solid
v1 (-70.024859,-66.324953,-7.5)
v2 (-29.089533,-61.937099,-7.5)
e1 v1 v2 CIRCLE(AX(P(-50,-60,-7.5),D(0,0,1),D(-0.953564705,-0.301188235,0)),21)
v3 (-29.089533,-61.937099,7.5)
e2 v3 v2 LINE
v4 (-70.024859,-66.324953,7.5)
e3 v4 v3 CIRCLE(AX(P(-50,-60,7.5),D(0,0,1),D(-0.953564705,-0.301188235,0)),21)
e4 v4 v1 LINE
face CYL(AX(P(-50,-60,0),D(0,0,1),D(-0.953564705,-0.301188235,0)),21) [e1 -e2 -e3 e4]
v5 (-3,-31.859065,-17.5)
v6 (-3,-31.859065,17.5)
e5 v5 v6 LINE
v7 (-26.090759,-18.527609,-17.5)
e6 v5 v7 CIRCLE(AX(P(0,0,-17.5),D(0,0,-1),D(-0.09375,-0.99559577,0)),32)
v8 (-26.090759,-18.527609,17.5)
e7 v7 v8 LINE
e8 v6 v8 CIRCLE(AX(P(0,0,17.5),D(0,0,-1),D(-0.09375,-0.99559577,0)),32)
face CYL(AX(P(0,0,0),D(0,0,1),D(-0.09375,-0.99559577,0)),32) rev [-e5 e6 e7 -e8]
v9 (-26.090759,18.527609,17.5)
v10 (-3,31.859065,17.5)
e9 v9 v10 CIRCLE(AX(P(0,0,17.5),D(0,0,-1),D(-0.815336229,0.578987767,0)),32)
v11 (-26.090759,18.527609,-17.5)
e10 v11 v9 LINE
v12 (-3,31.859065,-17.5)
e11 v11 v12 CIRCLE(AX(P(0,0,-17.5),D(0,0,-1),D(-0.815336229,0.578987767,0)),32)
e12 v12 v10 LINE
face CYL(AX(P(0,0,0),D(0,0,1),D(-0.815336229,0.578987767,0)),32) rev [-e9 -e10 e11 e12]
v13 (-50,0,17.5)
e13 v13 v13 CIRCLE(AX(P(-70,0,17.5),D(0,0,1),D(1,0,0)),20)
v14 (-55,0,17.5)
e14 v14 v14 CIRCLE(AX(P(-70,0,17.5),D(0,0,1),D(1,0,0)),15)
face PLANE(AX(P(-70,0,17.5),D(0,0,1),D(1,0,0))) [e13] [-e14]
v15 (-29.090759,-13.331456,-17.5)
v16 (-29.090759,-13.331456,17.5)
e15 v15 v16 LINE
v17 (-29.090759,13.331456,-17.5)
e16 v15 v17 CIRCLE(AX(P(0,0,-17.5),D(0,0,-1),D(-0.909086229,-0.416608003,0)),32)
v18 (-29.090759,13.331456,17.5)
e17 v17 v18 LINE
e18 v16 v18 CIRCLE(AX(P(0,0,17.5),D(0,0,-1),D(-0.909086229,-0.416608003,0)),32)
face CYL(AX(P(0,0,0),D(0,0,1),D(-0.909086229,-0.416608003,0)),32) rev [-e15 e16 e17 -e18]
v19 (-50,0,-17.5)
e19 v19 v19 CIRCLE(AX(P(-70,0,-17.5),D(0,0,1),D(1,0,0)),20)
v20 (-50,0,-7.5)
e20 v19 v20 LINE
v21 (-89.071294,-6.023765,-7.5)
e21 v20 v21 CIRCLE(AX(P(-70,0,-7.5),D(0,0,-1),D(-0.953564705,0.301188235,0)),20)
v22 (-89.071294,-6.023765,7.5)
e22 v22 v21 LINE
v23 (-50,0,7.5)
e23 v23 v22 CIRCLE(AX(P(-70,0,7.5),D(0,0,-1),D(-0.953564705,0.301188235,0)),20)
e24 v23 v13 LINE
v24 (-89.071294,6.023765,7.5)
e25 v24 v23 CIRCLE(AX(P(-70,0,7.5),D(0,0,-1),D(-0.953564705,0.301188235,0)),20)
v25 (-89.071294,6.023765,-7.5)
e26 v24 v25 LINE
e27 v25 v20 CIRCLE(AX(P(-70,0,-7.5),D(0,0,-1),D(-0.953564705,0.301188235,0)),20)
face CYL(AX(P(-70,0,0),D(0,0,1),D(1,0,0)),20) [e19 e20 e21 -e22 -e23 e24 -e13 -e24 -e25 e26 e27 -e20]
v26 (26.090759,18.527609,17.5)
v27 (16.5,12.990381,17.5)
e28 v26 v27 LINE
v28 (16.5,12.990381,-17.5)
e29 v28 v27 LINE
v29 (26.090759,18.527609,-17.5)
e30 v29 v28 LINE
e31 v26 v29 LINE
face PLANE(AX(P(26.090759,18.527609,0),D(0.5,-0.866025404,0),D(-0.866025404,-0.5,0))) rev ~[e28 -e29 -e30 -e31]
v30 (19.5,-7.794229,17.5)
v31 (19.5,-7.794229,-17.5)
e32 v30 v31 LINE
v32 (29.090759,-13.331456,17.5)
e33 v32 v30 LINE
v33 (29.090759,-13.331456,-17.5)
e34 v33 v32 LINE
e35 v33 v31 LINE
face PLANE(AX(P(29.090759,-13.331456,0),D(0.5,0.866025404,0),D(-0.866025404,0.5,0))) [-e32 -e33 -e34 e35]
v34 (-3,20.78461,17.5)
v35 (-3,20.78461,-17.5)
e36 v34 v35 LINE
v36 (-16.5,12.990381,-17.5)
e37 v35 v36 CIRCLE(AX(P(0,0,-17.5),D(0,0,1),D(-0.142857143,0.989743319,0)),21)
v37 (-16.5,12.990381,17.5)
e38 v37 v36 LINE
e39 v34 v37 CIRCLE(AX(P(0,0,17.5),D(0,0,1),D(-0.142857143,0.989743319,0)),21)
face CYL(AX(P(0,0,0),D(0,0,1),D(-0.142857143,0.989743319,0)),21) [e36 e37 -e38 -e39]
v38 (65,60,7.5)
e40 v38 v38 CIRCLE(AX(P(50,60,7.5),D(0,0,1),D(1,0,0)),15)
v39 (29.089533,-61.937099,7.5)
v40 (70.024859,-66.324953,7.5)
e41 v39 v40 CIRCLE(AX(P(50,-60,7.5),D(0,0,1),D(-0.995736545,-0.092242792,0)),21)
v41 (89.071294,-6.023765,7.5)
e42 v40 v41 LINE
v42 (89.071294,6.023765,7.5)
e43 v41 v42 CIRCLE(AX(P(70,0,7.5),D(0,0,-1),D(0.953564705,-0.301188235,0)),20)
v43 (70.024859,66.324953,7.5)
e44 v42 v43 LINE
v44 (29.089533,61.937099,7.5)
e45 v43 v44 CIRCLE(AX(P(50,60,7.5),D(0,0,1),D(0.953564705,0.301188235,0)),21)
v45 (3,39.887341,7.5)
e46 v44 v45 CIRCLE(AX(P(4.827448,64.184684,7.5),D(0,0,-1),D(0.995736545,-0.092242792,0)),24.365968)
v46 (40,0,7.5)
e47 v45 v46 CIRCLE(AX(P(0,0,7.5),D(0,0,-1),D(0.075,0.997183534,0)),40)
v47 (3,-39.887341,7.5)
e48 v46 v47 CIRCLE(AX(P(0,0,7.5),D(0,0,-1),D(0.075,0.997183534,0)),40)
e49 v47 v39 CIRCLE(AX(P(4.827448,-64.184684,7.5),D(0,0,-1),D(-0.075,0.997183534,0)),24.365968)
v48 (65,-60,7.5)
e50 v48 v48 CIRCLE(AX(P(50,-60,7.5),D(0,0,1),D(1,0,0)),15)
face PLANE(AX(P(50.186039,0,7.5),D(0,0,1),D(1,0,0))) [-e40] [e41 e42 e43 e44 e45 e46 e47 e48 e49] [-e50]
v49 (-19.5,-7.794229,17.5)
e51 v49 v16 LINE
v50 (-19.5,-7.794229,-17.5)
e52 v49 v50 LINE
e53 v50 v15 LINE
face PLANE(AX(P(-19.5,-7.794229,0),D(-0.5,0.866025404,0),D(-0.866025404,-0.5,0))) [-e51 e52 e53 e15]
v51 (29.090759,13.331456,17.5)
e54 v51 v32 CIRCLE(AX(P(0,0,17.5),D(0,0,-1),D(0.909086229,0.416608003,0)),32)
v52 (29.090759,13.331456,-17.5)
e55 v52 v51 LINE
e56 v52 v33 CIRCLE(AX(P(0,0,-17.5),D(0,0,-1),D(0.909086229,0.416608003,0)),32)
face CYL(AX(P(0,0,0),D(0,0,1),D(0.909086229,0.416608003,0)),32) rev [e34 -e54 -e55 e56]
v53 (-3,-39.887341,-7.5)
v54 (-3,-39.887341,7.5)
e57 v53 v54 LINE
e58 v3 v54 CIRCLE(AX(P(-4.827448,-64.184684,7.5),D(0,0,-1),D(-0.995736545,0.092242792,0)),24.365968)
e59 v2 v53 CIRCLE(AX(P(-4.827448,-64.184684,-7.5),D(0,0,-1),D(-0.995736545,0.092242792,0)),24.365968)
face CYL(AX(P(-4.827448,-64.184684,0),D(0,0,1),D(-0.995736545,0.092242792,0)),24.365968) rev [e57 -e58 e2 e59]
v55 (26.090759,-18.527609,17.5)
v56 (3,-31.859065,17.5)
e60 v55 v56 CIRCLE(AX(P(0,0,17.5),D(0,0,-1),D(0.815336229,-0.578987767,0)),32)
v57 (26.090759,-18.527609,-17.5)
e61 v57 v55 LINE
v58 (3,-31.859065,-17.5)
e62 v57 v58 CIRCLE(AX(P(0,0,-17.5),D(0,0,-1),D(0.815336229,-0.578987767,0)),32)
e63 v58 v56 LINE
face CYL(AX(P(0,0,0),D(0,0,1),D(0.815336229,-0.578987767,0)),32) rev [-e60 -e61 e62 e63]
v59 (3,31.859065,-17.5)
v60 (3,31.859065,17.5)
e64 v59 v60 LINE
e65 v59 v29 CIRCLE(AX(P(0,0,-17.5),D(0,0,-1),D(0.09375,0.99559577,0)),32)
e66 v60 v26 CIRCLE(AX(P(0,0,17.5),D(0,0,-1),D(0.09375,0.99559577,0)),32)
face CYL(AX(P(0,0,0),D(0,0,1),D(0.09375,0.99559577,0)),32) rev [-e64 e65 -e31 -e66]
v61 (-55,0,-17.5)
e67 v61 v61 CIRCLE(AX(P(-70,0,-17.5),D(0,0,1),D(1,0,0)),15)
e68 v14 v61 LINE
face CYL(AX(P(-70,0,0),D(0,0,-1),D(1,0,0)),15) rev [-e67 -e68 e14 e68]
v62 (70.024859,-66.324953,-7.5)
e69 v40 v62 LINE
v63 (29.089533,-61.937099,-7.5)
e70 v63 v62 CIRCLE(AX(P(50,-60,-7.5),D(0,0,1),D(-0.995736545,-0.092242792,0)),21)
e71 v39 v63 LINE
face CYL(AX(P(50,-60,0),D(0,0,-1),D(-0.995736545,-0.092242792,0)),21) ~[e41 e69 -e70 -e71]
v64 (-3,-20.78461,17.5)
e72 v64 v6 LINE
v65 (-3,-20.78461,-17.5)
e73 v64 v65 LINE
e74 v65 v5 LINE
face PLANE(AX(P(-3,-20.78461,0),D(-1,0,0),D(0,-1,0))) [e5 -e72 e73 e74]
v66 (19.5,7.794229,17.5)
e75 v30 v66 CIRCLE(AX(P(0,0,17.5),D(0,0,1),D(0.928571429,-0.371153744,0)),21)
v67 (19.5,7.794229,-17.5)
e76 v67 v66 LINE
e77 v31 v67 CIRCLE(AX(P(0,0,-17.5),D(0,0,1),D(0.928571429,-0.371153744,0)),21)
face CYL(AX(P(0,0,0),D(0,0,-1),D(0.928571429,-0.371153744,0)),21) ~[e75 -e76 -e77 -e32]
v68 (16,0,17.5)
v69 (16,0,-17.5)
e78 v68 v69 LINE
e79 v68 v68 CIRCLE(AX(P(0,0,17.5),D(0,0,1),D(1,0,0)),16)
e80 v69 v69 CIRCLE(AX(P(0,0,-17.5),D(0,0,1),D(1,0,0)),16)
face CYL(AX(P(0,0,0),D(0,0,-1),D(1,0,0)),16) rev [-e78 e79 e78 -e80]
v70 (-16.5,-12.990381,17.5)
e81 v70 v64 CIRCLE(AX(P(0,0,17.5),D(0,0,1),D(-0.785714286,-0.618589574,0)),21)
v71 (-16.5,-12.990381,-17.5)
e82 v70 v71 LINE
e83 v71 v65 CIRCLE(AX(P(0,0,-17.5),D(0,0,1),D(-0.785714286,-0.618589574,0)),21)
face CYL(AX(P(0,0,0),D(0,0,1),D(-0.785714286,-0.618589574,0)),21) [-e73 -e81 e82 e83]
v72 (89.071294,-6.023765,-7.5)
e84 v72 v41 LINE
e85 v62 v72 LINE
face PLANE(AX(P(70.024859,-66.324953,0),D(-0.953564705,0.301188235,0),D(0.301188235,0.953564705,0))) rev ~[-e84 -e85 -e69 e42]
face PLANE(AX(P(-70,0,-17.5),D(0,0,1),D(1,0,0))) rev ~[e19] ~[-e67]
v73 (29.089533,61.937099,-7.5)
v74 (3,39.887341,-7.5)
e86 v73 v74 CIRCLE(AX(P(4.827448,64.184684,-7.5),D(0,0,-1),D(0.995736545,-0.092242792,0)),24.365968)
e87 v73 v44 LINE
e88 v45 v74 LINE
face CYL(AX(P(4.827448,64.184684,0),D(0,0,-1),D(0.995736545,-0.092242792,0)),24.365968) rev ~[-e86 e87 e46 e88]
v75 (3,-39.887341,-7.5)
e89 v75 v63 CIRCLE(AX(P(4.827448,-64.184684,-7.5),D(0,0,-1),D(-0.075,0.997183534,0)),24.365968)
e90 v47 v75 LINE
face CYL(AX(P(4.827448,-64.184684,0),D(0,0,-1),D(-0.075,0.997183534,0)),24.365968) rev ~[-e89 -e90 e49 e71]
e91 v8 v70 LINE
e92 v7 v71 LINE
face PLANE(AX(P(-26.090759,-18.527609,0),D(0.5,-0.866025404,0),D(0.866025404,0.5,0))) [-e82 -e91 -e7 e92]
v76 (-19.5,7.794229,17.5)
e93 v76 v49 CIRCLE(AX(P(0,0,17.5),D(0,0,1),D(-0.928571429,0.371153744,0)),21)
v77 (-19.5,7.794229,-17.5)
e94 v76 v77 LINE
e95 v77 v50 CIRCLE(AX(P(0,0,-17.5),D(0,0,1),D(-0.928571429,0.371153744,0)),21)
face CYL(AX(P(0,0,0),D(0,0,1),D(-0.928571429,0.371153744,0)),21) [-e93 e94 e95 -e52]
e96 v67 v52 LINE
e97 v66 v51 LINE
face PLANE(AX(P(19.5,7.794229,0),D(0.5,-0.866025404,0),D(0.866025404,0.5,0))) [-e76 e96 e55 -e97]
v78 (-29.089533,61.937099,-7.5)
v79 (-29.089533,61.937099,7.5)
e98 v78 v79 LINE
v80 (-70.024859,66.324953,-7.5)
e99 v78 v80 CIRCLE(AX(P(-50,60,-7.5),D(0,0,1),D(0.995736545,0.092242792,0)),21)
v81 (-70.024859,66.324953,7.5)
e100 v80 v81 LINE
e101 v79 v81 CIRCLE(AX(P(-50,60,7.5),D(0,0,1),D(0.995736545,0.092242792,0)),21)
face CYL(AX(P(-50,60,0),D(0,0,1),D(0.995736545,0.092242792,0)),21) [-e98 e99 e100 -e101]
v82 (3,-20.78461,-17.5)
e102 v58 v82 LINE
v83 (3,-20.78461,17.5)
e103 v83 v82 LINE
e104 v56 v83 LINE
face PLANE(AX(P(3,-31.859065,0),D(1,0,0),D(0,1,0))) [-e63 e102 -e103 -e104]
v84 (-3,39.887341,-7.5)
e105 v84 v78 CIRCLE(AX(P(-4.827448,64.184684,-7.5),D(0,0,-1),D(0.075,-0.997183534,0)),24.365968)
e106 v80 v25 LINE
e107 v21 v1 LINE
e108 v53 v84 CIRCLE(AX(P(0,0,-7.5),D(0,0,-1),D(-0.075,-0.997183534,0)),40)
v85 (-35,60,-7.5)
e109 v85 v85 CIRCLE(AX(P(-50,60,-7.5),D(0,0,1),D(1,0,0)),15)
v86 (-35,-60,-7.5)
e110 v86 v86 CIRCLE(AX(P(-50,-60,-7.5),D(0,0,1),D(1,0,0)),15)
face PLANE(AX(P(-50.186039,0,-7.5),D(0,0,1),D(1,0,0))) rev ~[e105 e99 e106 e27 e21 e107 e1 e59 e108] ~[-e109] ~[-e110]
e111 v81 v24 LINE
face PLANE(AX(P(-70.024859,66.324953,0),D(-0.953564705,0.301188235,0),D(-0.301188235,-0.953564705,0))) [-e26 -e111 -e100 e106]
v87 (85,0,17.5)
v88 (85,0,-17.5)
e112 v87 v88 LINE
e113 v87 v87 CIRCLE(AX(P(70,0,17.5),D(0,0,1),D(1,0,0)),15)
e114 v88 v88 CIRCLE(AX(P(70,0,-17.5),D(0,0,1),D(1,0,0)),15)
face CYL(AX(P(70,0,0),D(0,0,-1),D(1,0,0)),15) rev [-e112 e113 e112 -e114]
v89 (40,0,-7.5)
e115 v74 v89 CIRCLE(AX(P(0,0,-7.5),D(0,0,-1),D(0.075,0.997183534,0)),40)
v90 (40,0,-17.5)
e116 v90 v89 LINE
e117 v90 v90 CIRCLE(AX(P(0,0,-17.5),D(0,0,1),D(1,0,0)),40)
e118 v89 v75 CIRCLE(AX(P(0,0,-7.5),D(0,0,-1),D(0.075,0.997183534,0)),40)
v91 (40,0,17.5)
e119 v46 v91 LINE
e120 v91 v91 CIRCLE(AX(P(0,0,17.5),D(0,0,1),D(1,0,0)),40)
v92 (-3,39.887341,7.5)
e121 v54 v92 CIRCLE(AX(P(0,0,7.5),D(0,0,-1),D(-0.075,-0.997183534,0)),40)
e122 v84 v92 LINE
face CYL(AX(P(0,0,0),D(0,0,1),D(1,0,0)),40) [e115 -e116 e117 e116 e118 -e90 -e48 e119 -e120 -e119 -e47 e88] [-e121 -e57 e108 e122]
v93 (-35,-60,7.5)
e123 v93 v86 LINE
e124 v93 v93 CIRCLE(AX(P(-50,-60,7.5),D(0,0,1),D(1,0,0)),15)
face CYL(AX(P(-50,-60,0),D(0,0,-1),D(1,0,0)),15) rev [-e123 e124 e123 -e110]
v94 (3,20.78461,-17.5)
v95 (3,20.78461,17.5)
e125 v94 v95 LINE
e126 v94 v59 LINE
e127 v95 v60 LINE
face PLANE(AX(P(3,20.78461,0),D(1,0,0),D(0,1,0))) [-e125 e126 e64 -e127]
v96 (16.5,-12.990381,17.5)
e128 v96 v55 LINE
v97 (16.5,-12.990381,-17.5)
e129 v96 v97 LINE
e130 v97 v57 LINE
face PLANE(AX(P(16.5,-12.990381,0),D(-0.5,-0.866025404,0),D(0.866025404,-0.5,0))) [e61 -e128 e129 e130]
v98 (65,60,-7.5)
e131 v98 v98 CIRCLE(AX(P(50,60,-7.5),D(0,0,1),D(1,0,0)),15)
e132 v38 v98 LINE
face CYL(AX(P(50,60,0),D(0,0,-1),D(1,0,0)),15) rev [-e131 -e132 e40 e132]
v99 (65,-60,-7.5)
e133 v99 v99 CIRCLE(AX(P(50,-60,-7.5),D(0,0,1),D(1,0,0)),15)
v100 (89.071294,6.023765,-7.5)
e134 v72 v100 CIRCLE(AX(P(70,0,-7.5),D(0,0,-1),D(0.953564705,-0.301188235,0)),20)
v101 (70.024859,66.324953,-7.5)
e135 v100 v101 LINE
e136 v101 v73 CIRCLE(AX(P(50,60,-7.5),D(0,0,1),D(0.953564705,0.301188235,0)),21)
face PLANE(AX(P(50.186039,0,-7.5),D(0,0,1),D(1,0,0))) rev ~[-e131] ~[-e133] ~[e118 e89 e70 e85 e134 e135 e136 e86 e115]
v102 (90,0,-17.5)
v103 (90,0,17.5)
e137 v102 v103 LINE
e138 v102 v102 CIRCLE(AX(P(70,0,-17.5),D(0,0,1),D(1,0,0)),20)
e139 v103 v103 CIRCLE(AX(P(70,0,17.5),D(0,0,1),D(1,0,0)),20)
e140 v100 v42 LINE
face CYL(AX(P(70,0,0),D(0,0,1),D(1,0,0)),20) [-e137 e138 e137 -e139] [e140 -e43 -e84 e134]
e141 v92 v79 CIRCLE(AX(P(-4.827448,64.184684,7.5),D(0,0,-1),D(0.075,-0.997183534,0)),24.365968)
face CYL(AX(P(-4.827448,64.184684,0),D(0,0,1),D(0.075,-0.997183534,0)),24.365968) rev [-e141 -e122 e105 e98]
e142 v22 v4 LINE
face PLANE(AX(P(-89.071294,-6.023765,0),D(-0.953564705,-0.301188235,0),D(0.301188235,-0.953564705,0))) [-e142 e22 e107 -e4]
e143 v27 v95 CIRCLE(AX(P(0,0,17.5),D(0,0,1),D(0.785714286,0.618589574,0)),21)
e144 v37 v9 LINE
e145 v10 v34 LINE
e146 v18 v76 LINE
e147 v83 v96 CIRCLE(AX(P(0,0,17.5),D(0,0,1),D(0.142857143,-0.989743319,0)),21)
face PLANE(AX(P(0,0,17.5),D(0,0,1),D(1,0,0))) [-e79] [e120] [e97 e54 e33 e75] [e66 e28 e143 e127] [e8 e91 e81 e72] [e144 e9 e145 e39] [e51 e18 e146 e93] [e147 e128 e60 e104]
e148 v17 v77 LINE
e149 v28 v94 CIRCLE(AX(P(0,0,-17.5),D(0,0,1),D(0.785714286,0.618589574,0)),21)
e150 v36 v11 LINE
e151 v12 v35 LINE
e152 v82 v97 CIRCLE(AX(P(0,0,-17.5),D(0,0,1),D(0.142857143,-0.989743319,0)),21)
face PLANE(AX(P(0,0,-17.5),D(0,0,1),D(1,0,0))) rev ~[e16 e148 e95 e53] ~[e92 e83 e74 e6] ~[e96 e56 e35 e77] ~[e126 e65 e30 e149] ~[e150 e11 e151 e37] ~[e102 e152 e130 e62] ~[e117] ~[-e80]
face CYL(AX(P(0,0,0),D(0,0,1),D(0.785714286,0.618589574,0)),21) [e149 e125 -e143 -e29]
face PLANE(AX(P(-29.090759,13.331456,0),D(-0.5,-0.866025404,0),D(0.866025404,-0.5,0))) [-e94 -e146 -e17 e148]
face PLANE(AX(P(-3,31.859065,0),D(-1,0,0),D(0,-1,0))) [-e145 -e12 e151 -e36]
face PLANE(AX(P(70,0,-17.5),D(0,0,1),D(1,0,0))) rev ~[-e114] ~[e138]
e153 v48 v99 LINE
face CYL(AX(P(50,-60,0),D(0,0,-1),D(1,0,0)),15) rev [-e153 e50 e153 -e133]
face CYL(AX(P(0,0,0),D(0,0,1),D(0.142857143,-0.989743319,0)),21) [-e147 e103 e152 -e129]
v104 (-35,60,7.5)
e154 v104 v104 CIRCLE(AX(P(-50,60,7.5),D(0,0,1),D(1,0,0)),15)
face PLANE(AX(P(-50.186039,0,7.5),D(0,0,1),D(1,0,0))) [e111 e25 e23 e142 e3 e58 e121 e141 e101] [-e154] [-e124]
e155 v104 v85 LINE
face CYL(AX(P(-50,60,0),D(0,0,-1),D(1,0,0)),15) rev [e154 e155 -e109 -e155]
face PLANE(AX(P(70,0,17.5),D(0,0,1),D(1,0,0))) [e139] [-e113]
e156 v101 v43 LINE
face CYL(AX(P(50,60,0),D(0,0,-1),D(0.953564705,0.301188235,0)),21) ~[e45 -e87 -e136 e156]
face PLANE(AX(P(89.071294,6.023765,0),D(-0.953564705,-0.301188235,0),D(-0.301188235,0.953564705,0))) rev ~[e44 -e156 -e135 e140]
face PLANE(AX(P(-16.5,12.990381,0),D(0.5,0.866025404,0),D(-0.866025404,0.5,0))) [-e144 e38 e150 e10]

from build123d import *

# Parameters (mm, degrees)
SKETCH1_4_R           = 20
SKETCH1_4_R_2         = 15
BOSS_EXTRUDE2_DEPTH   = 17.5
SKETCH1_4_R_3         = 40
SKETCH1_4_R_4         = 16
BOSS_EXTRUDE2_2_DEPTH = 17.5
BOSS_EXTRUDE2_3_DEPTH = 17.5
SKETCH1_5_R           = 15
BOSS_EXTRUDE3_DEPTH   = 7.5


with BuildPart() as part:
    # Sketch1<4> → Boss-Extrude2 (new, symmetric)
    with BuildSketch(Plane.XY):
        with Locations((70, 0)):
            Circle(SKETCH1_4_R)
        with Locations((70, 0)):
            Circle(SKETCH1_4_R_2, mode=Mode.SUBTRACT)
    extrude(amount=BOSS_EXTRUDE2_DEPTH, both=True)



with BuildPart() as body_2:
    # Sketch1<4> → Boss-Extrude2 2 (new, symmetric)
    with BuildSketch(Plane.XY):
        Circle(SKETCH1_4_R_3)
        with BuildLine():
            ThreePointArc((-3, -31.859064644), (-16, -27.712812921), (-26.090759323, -18.527608533))
            Line((-26.090759323, -18.527608533), (-16.5, -12.990381057))
            ThreePointArc((-16.5, -12.990381057), (-10.5, -18.186533479), (-3, -20.784609691))
            Line((-3, -20.784609691), (-3, -31.859064644))
        make_face(mode=Mode.SUBTRACT)
        with BuildLine():
            ThreePointArc((26.090759323, -18.527608533), (16, -27.712812921), (3, -31.859064644))
            Line((3, -31.859064644), (3, -20.784609691))
            ThreePointArc((3, -20.784609691), (10.5, -18.186533479), (16.5, -12.990381057))
            Line((16.5, -12.990381057), (26.090759323, -18.527608533))
        make_face(mode=Mode.SUBTRACT)
        with BuildLine():
            Line((29.090759323, -13.331456111), (19.5, -7.794228634))
            ThreePointArc((19.5, -7.794228634), (21, 0), (19.5, 7.794228634))
            Line((19.5, 7.794228634), (29.090759323, 13.331456111))
            ThreePointArc((29.090759323, 13.331456111), (32, 0), (29.090759323, -13.331456111))
        make_face(mode=Mode.SUBTRACT)
        with BuildLine():
            ThreePointArc((3, 31.859064644), (16, 27.712812921), (26.090759323, 18.527608533))
            Line((26.090759323, 18.527608533), (16.5, 12.990381057))
            ThreePointArc((16.5, 12.990381057), (10.5, 18.186533479), (3, 20.784609691))
            Line((3, 20.784609691), (3, 31.859064644))
        make_face(mode=Mode.SUBTRACT)
        with BuildLine():
            ThreePointArc((-26.090759323, 18.527608533), (-16, 27.712812921), (-3, 31.859064644))
            Line((-3, 31.859064644), (-3, 20.784609691))
            ThreePointArc((-3, 20.784609691), (-10.5, 18.186533479), (-16.5, 12.990381057))
            Line((-16.5, 12.990381057), (-26.090759323, 18.527608533))
        make_face(mode=Mode.SUBTRACT)
        with BuildLine():
            ThreePointArc((-29.090759323, -13.331456111), (-32, 0), (-29.090759323, 13.331456111))
            Line((-29.090759323, 13.331456111), (-19.5, 7.794228634))
            ThreePointArc((-19.5, 7.794228634), (-21, 0), (-19.5, -7.794228634))
            Line((-19.5, -7.794228634), (-29.090759323, -13.331456111))
        make_face(mode=Mode.SUBTRACT)
        Circle(SKETCH1_4_R_4, mode=Mode.SUBTRACT)
    extrude(amount=BOSS_EXTRUDE2_2_DEPTH, both=True)


with BuildPart() as body_3:
    # Sketch1<4> → Boss-Extrude2 3 (new, symmetric)
    with BuildSketch(Plane.XY):
        with Locations((-70, 0)):
            Circle(SKETCH1_4_R)
        with Locations((-70, 0)):
            Circle(SKETCH1_4_R_2, mode=Mode.SUBTRACT)
    extrude(amount=BOSS_EXTRUDE2_3_DEPTH, both=True)


with BuildPart() as part_1:
    add(part.part)

    add(body_2.part)  # Boss-Extrude3 merges body 2

    add(body_3.part)  # Boss-Extrude3 merges body 3
    # Sketch1<5> → Boss-Extrude3 (add, symmetric)
    # profile 1 of 2: a face of its own
    with BuildSketch(Plane.XY):
        with BuildLine():
            Line((70.02485881, -66.324952937), (89.071294105, -6.023764702))
            ThreePointArc((89.071294105, -6.023764702), (50, 0), (89.071294105, 6.023764702))
            Line((89.071294105, 6.023764702), (70.02485881, 66.324952937))
            ThreePointArc((70.02485881, 66.324952937), (47.761832891, 80.880388119), (29.089532552, 61.937098635))
            ThreePointArc((29.089532552, 61.937098635), (20.55564481, 45.574895377), (3, 39.88734135))
            ThreePointArc((3, 39.88734135), (40, 0), (3, -39.88734135))
            ThreePointArc((3, -39.88734135), (20.55564481, -45.574895377), (29.089532552, -61.937098635))
            ThreePointArc((29.089532552, -61.937098635), (47.761832891, -80.880388119), (70.02485881, -66.324952937))
        make_face()
        with Locations((50, -60)):
            Circle(SKETCH1_5_R, mode=Mode.SUBTRACT)
        with Locations((50, 60)):
            Circle(SKETCH1_5_R, mode=Mode.SUBTRACT)
    # profile 2 of 2: a face of its own
    with BuildSketch(Plane.XY):
        with BuildLine():
            ThreePointArc((-29.089532552, -61.937098635), (-20.55564481, -45.574895377), (-3, -39.88734135))
            ThreePointArc((-3, -39.88734135), (-40, 0), (-3, 39.88734135))
            ThreePointArc((-3, 39.88734135), (-20.55564481, 45.574895377), (-29.089532552, 61.937098635))
            ThreePointArc((-29.089532552, 61.937098635), (-47.761832891, 80.880388119), (-70.02485881, 66.324952937))
            Line((-70.02485881, 66.324952937), (-89.071294105, 6.023764702))
            ThreePointArc((-89.071294105, 6.023764702), (-50, 0), (-89.071294105, -6.023764702))
            Line((-89.071294105, -6.023764702), (-70.02485881, -66.324952937))
            ThreePointArc((-70.02485881, -66.324952937), (-47.761832891, -80.880388119), (-29.089532552, -61.937098635))
        make_face()
        with Locations((-50, -60)):
            Circle(SKETCH1_5_R, mode=Mode.SUBTRACT)
        with Locations((-50, 60)):
            Circle(SKETCH1_5_R, mode=Mode.SUBTRACT)
    extrude(amount=BOSS_EXTRUDE3_DEPTH, both=True)


solid = part_1.part
